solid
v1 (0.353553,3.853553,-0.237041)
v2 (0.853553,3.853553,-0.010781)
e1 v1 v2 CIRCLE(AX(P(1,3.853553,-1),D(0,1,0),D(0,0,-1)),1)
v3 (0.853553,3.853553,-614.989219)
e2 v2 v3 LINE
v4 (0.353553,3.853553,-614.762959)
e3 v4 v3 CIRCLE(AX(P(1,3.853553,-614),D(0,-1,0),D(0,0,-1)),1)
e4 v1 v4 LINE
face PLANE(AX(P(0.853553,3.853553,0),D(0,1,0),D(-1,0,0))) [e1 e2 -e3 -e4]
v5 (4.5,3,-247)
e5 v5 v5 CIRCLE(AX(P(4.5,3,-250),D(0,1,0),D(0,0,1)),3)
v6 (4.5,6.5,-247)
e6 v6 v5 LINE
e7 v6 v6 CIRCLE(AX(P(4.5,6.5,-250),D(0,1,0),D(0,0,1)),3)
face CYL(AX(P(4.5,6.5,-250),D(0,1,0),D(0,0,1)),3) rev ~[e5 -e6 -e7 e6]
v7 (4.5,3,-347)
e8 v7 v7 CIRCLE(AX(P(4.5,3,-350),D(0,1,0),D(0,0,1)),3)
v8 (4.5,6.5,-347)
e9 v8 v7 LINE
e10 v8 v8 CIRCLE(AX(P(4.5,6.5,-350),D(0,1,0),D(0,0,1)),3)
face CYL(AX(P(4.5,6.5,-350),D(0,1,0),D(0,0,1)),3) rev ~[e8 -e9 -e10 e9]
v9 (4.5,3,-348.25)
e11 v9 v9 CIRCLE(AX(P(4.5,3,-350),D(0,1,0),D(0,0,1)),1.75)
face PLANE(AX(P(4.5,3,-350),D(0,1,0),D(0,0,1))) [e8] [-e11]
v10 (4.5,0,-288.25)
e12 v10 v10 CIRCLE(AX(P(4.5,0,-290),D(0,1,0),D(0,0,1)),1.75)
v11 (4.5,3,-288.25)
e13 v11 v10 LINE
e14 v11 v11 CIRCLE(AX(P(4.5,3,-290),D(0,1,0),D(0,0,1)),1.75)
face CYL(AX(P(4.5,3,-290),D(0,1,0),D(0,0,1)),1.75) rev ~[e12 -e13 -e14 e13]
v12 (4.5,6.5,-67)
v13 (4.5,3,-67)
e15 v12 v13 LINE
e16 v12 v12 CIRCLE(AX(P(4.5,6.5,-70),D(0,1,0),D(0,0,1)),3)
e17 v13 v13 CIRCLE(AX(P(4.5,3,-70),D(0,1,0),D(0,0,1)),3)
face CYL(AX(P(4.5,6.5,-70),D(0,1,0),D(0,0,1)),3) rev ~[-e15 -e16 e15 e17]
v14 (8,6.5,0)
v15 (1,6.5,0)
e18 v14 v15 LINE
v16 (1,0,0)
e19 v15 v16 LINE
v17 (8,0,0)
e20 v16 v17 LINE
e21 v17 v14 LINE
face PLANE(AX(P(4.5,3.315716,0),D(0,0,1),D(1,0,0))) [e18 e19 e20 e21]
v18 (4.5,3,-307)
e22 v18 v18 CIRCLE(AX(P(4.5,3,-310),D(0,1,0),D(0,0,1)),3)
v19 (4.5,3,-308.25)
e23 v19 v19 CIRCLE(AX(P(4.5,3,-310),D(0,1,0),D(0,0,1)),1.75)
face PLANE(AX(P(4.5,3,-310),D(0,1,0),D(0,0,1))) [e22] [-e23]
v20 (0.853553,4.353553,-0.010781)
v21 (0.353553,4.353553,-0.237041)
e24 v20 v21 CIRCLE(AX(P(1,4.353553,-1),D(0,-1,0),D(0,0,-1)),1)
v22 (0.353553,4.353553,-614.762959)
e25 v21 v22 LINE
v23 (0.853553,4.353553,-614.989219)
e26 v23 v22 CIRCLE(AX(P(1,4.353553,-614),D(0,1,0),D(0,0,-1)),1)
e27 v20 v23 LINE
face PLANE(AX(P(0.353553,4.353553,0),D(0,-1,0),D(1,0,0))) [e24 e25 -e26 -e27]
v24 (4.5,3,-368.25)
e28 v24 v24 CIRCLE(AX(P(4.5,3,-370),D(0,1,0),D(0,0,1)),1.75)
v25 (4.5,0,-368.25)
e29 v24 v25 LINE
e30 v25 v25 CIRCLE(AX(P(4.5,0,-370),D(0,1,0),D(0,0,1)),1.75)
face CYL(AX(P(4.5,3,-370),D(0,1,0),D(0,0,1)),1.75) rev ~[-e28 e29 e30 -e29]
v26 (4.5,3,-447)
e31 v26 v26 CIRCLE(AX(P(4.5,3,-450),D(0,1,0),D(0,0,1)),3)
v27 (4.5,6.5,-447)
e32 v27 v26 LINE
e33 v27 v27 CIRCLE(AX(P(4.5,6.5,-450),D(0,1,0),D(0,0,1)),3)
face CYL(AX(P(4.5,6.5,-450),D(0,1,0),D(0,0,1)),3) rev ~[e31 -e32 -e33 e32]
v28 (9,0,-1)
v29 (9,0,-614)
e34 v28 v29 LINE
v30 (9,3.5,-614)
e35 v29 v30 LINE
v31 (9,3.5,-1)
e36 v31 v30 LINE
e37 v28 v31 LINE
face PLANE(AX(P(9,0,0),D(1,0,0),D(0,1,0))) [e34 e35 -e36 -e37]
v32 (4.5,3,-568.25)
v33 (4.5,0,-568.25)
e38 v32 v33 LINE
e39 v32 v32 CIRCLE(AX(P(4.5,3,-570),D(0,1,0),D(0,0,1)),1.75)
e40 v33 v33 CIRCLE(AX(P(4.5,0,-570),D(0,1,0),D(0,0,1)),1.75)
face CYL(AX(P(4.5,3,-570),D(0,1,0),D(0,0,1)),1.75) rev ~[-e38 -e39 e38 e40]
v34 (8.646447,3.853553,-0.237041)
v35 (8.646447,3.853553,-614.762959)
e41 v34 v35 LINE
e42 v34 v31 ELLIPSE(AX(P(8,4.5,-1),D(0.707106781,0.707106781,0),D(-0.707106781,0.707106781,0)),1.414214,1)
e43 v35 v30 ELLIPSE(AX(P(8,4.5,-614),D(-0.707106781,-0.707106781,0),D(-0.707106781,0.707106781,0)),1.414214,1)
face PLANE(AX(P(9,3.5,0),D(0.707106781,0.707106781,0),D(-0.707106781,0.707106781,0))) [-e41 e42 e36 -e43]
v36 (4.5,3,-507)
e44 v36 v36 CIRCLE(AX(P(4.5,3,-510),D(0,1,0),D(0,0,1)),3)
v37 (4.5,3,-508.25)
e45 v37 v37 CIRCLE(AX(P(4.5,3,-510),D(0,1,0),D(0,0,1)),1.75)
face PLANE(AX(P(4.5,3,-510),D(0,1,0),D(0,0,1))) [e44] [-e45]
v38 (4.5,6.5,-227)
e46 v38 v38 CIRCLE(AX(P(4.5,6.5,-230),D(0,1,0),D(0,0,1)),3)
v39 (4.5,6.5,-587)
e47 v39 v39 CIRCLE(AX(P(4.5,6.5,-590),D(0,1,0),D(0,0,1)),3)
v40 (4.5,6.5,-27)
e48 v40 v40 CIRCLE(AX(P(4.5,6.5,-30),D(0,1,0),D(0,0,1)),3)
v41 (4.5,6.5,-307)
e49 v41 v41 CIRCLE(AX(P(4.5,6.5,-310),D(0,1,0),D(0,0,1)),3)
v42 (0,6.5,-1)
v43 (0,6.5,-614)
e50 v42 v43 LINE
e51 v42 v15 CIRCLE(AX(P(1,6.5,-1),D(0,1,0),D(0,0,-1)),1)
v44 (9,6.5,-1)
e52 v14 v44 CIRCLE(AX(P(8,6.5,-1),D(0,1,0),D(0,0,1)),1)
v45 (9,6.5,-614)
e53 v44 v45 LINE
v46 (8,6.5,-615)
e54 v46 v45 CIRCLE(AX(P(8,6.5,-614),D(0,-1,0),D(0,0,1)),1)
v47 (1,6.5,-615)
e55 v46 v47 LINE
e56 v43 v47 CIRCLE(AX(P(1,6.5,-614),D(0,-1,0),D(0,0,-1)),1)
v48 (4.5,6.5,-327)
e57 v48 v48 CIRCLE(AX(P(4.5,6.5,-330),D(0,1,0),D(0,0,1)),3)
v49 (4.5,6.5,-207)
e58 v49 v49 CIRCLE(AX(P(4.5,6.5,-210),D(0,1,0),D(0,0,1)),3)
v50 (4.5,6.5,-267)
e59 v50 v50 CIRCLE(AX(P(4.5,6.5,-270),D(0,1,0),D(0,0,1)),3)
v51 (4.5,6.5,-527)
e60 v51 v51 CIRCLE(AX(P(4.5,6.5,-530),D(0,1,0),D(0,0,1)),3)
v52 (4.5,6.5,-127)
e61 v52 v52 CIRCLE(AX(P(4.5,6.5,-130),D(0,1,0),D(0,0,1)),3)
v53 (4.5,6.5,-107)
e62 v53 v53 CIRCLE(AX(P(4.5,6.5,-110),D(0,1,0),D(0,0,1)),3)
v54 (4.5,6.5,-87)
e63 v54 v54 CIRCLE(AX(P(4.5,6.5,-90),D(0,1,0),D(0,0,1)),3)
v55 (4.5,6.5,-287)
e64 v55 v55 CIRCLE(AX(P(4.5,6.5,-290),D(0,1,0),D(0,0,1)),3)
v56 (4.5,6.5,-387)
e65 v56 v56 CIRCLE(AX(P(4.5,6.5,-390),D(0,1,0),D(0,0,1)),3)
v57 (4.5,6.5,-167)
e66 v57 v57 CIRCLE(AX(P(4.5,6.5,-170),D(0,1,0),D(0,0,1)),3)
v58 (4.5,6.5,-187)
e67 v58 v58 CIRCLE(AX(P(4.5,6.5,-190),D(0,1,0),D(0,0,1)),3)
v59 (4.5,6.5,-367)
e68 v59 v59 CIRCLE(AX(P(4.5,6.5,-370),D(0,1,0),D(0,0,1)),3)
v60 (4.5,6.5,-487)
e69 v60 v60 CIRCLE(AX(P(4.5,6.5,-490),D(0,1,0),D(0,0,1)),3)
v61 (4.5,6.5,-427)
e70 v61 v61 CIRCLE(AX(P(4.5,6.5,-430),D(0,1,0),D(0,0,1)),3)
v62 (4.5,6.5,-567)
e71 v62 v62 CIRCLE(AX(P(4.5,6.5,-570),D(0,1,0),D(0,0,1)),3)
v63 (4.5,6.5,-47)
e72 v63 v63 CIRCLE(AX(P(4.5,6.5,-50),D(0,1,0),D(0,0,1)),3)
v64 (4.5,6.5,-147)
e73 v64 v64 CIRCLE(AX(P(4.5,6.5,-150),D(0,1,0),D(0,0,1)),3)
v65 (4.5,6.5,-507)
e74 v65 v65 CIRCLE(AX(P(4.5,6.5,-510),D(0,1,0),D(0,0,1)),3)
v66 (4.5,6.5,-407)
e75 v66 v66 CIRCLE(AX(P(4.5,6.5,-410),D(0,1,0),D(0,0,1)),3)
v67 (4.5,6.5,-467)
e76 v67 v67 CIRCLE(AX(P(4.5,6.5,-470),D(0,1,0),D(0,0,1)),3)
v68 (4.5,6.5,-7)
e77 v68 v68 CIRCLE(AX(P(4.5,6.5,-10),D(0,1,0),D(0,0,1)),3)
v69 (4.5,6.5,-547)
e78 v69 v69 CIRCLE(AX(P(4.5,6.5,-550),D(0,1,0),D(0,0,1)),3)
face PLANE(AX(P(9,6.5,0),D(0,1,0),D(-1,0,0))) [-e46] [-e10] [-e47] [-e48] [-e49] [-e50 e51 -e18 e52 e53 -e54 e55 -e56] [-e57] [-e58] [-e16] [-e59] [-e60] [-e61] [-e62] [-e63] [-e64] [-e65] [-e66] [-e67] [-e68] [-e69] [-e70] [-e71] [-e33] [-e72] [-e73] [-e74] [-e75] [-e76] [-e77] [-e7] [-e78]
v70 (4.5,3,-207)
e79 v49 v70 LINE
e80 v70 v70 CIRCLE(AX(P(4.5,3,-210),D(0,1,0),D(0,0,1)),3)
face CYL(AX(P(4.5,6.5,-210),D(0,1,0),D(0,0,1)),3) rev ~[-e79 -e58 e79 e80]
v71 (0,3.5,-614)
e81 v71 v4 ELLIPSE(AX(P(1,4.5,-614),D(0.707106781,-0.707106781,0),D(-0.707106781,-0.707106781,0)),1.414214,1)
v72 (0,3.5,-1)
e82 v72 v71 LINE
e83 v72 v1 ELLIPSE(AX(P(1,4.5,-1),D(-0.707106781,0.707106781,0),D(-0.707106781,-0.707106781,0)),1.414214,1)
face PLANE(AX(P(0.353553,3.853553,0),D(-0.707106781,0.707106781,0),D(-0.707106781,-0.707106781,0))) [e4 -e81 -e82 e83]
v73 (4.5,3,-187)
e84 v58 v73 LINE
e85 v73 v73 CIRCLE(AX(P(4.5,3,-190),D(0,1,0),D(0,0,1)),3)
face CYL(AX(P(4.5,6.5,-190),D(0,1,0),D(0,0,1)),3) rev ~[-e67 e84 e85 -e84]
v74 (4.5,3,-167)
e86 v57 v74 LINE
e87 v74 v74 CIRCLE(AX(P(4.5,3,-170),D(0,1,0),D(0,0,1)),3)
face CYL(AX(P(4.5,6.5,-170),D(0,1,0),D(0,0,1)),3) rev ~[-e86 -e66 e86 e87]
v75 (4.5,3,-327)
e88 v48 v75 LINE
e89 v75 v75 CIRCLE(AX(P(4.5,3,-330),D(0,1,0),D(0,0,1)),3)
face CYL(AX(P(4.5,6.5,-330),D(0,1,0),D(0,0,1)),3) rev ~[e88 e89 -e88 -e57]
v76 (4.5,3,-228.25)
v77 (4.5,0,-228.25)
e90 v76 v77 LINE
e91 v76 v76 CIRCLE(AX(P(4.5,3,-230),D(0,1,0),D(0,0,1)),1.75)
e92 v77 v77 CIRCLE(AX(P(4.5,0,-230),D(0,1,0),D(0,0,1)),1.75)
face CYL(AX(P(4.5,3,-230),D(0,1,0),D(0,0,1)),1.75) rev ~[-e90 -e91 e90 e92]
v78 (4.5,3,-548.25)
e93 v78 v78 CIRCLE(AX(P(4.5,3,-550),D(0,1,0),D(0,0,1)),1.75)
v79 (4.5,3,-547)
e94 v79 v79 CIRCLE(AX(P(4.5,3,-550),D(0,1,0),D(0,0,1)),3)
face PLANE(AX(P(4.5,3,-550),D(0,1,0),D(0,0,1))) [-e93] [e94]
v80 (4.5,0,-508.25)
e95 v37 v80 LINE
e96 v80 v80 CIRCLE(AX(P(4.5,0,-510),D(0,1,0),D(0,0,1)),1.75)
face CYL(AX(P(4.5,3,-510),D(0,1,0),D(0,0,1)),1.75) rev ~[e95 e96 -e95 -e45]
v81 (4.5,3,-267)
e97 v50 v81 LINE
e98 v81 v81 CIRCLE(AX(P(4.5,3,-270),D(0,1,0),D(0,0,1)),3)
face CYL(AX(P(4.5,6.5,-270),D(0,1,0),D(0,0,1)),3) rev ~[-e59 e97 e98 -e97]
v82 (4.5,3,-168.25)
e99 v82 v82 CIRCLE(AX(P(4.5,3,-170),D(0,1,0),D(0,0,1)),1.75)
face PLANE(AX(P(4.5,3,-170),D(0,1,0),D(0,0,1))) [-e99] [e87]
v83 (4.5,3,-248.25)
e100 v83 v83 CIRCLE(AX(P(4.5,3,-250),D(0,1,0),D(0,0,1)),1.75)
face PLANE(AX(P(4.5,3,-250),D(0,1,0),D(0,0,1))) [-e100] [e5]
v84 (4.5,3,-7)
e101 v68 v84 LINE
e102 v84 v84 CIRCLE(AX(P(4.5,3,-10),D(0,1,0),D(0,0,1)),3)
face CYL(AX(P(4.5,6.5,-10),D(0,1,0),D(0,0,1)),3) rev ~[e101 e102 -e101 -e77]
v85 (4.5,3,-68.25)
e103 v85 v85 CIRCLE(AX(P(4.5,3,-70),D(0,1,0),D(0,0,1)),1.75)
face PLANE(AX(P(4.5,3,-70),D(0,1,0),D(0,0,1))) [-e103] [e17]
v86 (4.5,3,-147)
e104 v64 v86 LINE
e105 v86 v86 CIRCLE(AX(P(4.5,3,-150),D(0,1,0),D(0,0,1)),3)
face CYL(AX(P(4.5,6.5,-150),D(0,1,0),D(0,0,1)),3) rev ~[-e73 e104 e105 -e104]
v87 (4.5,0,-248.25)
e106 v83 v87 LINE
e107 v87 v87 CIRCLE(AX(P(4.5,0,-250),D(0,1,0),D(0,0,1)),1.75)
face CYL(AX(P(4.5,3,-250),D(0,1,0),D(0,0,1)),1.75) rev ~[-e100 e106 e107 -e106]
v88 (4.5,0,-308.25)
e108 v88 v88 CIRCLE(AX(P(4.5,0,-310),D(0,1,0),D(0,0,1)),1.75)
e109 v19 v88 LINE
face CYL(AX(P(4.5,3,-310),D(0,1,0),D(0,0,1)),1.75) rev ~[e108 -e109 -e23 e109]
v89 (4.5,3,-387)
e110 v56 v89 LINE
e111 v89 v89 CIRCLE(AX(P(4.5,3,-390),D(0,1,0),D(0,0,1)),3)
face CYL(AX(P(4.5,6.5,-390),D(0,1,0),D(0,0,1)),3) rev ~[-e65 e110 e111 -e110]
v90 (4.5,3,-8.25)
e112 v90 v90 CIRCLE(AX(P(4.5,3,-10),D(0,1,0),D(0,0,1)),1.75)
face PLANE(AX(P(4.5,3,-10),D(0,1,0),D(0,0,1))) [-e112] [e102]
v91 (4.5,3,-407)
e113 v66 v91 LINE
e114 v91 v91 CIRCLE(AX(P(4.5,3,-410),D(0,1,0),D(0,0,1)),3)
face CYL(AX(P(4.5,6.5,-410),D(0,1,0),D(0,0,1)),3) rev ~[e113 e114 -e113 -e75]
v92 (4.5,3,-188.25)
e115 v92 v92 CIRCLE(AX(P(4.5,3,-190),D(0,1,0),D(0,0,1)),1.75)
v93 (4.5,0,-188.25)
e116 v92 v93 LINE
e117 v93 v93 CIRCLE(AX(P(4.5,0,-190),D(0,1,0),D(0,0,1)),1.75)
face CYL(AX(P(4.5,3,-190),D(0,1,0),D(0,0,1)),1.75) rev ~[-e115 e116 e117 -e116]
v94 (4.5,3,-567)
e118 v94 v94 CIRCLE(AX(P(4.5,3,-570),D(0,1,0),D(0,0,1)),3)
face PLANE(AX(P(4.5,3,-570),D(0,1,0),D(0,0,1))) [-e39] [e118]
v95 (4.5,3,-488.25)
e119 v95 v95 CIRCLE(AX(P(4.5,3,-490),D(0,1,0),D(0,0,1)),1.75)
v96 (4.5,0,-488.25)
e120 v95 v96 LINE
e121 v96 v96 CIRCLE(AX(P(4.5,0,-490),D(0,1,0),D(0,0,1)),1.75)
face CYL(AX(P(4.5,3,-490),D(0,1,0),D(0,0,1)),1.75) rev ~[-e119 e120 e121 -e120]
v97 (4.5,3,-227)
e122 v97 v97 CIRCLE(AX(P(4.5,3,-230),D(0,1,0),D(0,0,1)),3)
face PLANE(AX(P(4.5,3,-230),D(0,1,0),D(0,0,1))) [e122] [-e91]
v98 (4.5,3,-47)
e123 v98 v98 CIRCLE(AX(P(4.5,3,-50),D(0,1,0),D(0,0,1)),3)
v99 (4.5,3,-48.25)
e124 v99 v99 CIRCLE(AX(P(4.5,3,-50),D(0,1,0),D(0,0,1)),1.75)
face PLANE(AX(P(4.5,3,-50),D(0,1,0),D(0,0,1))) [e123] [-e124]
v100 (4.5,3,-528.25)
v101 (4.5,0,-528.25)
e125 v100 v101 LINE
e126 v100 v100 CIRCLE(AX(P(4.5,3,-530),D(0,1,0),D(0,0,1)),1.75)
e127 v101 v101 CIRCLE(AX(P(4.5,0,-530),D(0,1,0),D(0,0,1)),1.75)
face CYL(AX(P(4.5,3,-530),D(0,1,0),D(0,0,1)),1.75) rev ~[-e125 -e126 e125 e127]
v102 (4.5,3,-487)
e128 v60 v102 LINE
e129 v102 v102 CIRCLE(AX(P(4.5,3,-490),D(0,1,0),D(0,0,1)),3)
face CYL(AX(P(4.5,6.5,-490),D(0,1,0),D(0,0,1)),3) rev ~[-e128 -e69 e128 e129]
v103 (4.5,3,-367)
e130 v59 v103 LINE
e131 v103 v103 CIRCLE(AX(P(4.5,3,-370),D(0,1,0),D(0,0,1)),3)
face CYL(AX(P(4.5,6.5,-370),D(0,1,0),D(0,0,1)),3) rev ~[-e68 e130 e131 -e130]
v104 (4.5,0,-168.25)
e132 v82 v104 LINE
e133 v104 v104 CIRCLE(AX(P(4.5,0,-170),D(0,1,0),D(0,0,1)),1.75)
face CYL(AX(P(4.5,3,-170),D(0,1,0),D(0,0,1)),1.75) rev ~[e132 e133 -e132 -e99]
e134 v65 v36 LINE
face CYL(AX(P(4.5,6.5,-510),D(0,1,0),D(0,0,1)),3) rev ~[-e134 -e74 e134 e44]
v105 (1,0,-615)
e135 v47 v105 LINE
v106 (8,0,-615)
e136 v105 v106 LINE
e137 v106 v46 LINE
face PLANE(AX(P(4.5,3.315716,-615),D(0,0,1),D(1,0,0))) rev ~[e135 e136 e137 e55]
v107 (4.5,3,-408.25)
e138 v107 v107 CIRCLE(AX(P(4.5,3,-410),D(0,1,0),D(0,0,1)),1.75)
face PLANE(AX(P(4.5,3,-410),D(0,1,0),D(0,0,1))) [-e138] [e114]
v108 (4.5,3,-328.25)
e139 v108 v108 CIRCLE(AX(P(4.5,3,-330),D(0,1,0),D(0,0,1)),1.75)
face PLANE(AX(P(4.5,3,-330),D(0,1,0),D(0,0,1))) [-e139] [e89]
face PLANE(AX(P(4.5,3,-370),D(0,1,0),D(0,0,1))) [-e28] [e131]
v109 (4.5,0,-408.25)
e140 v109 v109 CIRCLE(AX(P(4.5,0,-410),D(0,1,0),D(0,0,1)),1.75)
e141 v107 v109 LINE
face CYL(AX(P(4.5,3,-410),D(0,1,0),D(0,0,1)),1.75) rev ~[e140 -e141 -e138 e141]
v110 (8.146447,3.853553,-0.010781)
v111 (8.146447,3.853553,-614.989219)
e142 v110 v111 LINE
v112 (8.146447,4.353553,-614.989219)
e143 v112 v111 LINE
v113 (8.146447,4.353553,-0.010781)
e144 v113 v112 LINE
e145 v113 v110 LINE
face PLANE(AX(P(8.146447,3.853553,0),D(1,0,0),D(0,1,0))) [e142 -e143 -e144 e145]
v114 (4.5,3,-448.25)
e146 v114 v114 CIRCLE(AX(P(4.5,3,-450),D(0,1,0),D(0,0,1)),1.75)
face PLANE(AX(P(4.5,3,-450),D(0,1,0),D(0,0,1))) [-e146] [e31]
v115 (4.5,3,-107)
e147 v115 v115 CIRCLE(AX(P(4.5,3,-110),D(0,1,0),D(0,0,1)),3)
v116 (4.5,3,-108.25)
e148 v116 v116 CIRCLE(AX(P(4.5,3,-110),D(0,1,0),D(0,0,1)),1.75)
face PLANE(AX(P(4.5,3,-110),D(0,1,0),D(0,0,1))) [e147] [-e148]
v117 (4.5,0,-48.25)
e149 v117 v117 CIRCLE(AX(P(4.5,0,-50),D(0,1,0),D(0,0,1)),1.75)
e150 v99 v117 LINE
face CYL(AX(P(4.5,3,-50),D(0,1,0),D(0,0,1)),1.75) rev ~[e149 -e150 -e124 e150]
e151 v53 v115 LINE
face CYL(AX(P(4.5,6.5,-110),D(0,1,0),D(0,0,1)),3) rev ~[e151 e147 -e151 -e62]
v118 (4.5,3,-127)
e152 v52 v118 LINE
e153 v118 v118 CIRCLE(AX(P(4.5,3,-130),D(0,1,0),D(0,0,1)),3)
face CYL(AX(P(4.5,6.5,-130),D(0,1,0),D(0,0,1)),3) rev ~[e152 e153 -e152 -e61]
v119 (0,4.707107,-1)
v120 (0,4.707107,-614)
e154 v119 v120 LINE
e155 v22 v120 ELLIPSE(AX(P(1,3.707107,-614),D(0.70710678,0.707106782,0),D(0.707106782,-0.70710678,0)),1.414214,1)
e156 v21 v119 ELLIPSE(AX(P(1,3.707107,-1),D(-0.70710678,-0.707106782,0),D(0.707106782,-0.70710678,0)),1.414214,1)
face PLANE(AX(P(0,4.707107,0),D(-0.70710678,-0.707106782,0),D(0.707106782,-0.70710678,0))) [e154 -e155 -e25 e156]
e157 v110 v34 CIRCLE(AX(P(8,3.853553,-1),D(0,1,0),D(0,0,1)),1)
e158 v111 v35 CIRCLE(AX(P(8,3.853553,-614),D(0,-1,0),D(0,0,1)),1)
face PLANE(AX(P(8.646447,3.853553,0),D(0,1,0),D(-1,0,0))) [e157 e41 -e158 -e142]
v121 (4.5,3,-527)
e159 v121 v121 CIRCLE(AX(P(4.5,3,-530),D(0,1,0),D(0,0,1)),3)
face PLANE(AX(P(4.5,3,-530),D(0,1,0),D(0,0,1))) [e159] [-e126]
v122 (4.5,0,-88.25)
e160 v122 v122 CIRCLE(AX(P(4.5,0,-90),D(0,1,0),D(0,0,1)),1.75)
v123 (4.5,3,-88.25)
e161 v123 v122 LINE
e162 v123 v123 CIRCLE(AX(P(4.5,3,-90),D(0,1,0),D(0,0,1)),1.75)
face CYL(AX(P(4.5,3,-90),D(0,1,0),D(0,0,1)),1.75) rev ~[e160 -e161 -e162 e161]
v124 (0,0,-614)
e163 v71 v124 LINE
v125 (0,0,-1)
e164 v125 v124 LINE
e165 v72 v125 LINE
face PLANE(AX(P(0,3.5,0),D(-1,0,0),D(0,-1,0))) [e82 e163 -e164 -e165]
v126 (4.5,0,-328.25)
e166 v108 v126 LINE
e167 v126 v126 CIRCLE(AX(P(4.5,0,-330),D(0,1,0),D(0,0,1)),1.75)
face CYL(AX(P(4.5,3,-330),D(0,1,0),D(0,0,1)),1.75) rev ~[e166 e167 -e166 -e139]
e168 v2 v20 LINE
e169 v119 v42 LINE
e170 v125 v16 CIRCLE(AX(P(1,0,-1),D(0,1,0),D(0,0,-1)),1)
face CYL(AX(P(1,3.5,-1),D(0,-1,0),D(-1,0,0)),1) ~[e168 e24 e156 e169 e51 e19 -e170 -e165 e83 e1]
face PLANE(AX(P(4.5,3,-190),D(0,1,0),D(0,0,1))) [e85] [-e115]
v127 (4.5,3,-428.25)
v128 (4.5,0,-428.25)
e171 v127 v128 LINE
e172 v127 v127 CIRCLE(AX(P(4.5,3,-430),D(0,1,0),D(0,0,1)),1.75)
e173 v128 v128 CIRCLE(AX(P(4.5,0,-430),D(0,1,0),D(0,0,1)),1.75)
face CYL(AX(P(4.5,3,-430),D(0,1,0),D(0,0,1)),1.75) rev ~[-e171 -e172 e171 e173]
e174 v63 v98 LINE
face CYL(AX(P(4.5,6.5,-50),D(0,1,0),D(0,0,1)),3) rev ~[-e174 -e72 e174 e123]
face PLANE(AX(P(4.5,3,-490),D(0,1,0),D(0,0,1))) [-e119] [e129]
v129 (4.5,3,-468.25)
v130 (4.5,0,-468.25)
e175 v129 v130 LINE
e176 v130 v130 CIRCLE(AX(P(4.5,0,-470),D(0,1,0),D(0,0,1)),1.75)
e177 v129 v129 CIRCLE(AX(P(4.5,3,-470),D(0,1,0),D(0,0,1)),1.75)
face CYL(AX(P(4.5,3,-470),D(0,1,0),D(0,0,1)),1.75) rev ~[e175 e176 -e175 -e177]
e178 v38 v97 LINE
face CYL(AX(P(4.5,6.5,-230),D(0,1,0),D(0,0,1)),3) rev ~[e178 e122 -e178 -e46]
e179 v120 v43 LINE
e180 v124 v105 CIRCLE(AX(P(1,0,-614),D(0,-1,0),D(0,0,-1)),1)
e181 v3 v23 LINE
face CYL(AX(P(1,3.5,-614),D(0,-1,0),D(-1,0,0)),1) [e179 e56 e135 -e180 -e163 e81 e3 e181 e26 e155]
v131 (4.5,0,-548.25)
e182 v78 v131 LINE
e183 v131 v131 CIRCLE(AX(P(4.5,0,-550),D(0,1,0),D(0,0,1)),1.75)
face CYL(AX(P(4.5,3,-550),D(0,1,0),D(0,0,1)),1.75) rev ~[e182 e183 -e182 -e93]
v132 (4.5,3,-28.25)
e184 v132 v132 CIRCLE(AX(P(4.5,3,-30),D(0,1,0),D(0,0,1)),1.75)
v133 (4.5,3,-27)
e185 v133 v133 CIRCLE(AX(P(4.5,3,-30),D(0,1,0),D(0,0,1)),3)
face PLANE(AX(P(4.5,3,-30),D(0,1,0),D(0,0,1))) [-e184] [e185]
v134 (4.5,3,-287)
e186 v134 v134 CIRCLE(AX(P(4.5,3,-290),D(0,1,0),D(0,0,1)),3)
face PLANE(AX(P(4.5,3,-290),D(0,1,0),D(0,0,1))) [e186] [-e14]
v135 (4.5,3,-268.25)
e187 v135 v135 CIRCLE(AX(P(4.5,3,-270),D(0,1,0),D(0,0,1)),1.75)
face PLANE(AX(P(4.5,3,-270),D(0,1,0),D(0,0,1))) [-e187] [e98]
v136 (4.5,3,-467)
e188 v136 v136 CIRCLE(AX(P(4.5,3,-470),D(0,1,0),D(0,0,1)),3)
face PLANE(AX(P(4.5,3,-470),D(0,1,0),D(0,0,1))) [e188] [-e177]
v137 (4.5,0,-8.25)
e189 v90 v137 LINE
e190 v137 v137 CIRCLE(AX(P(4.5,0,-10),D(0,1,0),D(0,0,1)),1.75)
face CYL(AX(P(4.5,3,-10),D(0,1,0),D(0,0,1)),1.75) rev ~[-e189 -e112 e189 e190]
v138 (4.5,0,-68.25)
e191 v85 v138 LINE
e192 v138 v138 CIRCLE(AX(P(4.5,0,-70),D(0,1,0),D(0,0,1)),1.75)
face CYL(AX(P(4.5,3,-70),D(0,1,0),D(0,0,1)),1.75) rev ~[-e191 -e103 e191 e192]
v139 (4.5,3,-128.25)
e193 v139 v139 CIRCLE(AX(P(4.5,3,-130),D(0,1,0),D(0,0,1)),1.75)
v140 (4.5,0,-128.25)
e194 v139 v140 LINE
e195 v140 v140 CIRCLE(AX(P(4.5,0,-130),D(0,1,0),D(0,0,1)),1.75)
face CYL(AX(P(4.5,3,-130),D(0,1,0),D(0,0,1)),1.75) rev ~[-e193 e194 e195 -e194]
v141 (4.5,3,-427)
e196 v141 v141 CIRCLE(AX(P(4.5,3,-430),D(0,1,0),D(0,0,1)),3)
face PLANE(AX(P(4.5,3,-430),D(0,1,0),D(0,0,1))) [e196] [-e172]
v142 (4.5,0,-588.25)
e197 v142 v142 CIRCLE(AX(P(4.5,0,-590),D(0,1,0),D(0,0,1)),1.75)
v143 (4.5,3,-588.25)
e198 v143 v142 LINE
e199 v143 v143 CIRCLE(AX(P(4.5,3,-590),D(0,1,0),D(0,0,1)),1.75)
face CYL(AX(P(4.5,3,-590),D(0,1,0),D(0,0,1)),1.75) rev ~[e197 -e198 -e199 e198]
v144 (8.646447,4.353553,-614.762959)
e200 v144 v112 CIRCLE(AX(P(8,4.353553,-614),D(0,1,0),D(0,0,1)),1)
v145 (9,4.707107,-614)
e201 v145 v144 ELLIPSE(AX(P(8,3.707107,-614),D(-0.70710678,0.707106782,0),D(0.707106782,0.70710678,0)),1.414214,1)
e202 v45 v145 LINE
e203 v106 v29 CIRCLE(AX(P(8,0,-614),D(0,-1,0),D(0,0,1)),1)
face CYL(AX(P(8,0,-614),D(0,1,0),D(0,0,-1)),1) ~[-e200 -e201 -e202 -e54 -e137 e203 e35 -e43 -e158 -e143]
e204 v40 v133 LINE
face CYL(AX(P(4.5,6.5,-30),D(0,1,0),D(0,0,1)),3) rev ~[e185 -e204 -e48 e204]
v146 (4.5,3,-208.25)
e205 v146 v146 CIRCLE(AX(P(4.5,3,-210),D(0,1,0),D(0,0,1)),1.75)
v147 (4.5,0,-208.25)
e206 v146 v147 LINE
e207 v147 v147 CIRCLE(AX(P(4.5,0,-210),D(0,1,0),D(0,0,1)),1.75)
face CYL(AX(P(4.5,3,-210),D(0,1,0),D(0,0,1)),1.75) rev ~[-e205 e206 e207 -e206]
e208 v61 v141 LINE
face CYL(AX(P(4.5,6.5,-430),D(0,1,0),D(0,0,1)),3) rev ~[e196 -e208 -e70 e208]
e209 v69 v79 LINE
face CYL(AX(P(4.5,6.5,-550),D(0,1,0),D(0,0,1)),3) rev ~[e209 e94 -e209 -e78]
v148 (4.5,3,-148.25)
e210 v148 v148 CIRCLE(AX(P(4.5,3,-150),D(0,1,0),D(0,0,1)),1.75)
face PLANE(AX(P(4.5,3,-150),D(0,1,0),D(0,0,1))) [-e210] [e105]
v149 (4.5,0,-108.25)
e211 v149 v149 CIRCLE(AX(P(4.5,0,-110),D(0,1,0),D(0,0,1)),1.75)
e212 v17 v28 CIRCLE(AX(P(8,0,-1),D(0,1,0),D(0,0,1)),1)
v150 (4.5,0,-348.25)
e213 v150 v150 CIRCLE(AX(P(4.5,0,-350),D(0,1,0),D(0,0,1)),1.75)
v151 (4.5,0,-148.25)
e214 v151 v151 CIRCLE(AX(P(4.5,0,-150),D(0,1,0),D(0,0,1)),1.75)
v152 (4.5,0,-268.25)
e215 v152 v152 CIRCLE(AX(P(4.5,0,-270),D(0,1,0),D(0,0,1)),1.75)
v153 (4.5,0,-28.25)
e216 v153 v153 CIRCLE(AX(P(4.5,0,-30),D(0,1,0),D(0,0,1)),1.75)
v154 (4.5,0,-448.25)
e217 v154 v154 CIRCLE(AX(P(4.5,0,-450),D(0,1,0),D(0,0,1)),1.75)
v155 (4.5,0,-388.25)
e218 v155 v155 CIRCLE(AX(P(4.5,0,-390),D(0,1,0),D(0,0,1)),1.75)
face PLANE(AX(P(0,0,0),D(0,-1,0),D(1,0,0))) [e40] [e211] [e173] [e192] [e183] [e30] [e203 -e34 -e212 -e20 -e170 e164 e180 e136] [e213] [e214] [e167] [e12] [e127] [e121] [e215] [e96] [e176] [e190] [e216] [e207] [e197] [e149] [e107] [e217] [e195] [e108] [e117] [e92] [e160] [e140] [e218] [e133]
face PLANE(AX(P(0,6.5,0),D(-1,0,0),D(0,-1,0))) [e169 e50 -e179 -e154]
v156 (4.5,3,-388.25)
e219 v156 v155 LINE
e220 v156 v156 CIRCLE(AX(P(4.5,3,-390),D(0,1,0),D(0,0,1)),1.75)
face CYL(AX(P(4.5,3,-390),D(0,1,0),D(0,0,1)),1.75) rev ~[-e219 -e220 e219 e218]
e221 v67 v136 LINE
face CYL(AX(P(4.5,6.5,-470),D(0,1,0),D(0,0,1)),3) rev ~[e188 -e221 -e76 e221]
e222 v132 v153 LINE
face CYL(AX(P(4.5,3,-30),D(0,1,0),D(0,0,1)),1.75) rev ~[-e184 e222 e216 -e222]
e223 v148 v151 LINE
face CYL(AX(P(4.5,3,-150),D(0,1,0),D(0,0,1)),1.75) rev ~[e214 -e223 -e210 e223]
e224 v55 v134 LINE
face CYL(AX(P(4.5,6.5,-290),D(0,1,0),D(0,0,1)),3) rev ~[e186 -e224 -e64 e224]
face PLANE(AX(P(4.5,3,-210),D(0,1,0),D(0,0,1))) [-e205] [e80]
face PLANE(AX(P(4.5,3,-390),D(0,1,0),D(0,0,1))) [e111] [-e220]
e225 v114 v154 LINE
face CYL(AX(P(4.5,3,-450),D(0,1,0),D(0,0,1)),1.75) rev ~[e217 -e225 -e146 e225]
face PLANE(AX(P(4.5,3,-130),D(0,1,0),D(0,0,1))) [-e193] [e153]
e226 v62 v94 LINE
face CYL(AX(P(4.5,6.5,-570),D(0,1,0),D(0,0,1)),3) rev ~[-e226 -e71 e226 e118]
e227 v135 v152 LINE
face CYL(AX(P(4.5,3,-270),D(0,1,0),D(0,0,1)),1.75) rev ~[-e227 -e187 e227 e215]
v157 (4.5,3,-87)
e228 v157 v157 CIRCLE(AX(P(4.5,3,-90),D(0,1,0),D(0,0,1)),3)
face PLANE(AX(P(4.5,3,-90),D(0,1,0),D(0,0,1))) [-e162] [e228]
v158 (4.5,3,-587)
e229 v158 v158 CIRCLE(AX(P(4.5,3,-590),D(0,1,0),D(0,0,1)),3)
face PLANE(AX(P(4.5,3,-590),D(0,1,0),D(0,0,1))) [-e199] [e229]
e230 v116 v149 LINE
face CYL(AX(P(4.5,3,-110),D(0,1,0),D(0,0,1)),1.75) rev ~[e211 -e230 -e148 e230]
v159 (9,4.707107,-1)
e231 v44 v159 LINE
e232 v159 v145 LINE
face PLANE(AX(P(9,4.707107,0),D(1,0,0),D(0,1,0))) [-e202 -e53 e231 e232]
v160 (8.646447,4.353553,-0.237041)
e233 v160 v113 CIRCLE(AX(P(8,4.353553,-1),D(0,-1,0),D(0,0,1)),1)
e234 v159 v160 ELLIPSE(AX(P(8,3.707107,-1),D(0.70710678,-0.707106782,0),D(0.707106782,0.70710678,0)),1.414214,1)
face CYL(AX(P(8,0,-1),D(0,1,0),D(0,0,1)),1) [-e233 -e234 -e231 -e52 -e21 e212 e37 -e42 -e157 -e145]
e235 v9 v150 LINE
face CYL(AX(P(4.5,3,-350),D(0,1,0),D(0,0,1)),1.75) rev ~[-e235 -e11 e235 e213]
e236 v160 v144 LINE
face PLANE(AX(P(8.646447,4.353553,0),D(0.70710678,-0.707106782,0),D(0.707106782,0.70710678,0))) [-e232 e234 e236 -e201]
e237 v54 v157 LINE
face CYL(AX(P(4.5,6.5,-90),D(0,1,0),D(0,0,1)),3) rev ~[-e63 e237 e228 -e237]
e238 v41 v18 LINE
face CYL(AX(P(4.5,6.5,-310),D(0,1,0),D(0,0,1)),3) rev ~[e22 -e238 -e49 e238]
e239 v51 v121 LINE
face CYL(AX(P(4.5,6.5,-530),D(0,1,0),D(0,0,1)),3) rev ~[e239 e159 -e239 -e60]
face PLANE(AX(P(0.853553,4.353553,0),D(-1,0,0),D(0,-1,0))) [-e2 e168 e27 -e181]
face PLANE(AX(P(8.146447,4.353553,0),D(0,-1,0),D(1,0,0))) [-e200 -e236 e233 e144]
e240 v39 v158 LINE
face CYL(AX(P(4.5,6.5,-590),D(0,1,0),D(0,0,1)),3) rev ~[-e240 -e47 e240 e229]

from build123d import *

# Parameters (mm, degrees)
EXTRUDE_2_DEPTH        = 615
SKETCH_3_R             = 3
CUT_EXTRUDE_1_DEPTH    = 3.5
SKETCH_4_R             = 1.75
CUT_EXTRUDE_2_DEPTH    = 3
PATTERN_LINEAR_1_COUNT = 30
PATTERN_LINEAR_1_PITCH = 20
FILLET_1_R             = 1


with BuildPart() as part:
    # 草图2 → 凸台-拉伸2 (new body)
    with BuildSketch(Plane.XY):
        Polygon((0, 0), (9, 0), (9, 3.5), (8.646446609, 3.853553391), (8.146446609, 3.853553391), (8.146446609, 4.353553391), (8.646446609, 4.353553391), (9, 4.707106781), (9, 6.5), (0, 6.5), (0, 4.707106781), (0.353553391, 4.353553391), (0.853553391, 4.353553391), (0.853553391, 3.853553391), (0.353553391, 3.853553391), (0, 3.5), align=None)
    extrude(amount=-EXTRUDE_2_DEPTH)

    # 草图3 → 切除-拉伸1 (cut)
    with BuildSketch(Plane(origin=(0, 6.5, 0), x_dir=(1, 0, 0), z_dir=(0, 1, 0))):
        with Locations(Location((4.5, 10, 0), (0, 0, 270))):
            Circle(SKETCH_3_R)
    cut_extrude_1 = extrude(amount=-CUT_EXTRUDE_1_DEPTH, mode=Mode.SUBTRACT)

    # 草图4 → 切除-拉伸2 (cut)
    with BuildSketch(Plane(origin=(0, 3, 0), x_dir=(1, 0, 0), z_dir=(0, 1, 0))):
        with Locations(Location((4.5, 10, 0), (0, 0, 270))):
            Circle(SKETCH_4_R)
    cut_extrude_2 = extrude(amount=-CUT_EXTRUDE_2_DEPTH, mode=Mode.SUBTRACT)

    # 阵列(线性)1: 切除-拉伸1, 切除-拉伸2 ×30
    with Locations(*[(0, 0, -i * PATTERN_LINEAR_1_PITCH) for i in range(1, PATTERN_LINEAR_1_COUNT)]):
        add(cut_extrude_1, mode=Mode.SUBTRACT)
        add(cut_extrude_2, mode=Mode.SUBTRACT)

    # 圆角1
    fillet_1_edges = [part.edges().sort_by_distance(p)[0] for p in [
        (9, 1.75, -615),
        (0, 1.75, -615),
        (9, 1.75, 0),
        (0, 1.75, 0),
    ]]
    fillet(fillet_1_edges, radius=FILLET_1_R)


solid = part.part
